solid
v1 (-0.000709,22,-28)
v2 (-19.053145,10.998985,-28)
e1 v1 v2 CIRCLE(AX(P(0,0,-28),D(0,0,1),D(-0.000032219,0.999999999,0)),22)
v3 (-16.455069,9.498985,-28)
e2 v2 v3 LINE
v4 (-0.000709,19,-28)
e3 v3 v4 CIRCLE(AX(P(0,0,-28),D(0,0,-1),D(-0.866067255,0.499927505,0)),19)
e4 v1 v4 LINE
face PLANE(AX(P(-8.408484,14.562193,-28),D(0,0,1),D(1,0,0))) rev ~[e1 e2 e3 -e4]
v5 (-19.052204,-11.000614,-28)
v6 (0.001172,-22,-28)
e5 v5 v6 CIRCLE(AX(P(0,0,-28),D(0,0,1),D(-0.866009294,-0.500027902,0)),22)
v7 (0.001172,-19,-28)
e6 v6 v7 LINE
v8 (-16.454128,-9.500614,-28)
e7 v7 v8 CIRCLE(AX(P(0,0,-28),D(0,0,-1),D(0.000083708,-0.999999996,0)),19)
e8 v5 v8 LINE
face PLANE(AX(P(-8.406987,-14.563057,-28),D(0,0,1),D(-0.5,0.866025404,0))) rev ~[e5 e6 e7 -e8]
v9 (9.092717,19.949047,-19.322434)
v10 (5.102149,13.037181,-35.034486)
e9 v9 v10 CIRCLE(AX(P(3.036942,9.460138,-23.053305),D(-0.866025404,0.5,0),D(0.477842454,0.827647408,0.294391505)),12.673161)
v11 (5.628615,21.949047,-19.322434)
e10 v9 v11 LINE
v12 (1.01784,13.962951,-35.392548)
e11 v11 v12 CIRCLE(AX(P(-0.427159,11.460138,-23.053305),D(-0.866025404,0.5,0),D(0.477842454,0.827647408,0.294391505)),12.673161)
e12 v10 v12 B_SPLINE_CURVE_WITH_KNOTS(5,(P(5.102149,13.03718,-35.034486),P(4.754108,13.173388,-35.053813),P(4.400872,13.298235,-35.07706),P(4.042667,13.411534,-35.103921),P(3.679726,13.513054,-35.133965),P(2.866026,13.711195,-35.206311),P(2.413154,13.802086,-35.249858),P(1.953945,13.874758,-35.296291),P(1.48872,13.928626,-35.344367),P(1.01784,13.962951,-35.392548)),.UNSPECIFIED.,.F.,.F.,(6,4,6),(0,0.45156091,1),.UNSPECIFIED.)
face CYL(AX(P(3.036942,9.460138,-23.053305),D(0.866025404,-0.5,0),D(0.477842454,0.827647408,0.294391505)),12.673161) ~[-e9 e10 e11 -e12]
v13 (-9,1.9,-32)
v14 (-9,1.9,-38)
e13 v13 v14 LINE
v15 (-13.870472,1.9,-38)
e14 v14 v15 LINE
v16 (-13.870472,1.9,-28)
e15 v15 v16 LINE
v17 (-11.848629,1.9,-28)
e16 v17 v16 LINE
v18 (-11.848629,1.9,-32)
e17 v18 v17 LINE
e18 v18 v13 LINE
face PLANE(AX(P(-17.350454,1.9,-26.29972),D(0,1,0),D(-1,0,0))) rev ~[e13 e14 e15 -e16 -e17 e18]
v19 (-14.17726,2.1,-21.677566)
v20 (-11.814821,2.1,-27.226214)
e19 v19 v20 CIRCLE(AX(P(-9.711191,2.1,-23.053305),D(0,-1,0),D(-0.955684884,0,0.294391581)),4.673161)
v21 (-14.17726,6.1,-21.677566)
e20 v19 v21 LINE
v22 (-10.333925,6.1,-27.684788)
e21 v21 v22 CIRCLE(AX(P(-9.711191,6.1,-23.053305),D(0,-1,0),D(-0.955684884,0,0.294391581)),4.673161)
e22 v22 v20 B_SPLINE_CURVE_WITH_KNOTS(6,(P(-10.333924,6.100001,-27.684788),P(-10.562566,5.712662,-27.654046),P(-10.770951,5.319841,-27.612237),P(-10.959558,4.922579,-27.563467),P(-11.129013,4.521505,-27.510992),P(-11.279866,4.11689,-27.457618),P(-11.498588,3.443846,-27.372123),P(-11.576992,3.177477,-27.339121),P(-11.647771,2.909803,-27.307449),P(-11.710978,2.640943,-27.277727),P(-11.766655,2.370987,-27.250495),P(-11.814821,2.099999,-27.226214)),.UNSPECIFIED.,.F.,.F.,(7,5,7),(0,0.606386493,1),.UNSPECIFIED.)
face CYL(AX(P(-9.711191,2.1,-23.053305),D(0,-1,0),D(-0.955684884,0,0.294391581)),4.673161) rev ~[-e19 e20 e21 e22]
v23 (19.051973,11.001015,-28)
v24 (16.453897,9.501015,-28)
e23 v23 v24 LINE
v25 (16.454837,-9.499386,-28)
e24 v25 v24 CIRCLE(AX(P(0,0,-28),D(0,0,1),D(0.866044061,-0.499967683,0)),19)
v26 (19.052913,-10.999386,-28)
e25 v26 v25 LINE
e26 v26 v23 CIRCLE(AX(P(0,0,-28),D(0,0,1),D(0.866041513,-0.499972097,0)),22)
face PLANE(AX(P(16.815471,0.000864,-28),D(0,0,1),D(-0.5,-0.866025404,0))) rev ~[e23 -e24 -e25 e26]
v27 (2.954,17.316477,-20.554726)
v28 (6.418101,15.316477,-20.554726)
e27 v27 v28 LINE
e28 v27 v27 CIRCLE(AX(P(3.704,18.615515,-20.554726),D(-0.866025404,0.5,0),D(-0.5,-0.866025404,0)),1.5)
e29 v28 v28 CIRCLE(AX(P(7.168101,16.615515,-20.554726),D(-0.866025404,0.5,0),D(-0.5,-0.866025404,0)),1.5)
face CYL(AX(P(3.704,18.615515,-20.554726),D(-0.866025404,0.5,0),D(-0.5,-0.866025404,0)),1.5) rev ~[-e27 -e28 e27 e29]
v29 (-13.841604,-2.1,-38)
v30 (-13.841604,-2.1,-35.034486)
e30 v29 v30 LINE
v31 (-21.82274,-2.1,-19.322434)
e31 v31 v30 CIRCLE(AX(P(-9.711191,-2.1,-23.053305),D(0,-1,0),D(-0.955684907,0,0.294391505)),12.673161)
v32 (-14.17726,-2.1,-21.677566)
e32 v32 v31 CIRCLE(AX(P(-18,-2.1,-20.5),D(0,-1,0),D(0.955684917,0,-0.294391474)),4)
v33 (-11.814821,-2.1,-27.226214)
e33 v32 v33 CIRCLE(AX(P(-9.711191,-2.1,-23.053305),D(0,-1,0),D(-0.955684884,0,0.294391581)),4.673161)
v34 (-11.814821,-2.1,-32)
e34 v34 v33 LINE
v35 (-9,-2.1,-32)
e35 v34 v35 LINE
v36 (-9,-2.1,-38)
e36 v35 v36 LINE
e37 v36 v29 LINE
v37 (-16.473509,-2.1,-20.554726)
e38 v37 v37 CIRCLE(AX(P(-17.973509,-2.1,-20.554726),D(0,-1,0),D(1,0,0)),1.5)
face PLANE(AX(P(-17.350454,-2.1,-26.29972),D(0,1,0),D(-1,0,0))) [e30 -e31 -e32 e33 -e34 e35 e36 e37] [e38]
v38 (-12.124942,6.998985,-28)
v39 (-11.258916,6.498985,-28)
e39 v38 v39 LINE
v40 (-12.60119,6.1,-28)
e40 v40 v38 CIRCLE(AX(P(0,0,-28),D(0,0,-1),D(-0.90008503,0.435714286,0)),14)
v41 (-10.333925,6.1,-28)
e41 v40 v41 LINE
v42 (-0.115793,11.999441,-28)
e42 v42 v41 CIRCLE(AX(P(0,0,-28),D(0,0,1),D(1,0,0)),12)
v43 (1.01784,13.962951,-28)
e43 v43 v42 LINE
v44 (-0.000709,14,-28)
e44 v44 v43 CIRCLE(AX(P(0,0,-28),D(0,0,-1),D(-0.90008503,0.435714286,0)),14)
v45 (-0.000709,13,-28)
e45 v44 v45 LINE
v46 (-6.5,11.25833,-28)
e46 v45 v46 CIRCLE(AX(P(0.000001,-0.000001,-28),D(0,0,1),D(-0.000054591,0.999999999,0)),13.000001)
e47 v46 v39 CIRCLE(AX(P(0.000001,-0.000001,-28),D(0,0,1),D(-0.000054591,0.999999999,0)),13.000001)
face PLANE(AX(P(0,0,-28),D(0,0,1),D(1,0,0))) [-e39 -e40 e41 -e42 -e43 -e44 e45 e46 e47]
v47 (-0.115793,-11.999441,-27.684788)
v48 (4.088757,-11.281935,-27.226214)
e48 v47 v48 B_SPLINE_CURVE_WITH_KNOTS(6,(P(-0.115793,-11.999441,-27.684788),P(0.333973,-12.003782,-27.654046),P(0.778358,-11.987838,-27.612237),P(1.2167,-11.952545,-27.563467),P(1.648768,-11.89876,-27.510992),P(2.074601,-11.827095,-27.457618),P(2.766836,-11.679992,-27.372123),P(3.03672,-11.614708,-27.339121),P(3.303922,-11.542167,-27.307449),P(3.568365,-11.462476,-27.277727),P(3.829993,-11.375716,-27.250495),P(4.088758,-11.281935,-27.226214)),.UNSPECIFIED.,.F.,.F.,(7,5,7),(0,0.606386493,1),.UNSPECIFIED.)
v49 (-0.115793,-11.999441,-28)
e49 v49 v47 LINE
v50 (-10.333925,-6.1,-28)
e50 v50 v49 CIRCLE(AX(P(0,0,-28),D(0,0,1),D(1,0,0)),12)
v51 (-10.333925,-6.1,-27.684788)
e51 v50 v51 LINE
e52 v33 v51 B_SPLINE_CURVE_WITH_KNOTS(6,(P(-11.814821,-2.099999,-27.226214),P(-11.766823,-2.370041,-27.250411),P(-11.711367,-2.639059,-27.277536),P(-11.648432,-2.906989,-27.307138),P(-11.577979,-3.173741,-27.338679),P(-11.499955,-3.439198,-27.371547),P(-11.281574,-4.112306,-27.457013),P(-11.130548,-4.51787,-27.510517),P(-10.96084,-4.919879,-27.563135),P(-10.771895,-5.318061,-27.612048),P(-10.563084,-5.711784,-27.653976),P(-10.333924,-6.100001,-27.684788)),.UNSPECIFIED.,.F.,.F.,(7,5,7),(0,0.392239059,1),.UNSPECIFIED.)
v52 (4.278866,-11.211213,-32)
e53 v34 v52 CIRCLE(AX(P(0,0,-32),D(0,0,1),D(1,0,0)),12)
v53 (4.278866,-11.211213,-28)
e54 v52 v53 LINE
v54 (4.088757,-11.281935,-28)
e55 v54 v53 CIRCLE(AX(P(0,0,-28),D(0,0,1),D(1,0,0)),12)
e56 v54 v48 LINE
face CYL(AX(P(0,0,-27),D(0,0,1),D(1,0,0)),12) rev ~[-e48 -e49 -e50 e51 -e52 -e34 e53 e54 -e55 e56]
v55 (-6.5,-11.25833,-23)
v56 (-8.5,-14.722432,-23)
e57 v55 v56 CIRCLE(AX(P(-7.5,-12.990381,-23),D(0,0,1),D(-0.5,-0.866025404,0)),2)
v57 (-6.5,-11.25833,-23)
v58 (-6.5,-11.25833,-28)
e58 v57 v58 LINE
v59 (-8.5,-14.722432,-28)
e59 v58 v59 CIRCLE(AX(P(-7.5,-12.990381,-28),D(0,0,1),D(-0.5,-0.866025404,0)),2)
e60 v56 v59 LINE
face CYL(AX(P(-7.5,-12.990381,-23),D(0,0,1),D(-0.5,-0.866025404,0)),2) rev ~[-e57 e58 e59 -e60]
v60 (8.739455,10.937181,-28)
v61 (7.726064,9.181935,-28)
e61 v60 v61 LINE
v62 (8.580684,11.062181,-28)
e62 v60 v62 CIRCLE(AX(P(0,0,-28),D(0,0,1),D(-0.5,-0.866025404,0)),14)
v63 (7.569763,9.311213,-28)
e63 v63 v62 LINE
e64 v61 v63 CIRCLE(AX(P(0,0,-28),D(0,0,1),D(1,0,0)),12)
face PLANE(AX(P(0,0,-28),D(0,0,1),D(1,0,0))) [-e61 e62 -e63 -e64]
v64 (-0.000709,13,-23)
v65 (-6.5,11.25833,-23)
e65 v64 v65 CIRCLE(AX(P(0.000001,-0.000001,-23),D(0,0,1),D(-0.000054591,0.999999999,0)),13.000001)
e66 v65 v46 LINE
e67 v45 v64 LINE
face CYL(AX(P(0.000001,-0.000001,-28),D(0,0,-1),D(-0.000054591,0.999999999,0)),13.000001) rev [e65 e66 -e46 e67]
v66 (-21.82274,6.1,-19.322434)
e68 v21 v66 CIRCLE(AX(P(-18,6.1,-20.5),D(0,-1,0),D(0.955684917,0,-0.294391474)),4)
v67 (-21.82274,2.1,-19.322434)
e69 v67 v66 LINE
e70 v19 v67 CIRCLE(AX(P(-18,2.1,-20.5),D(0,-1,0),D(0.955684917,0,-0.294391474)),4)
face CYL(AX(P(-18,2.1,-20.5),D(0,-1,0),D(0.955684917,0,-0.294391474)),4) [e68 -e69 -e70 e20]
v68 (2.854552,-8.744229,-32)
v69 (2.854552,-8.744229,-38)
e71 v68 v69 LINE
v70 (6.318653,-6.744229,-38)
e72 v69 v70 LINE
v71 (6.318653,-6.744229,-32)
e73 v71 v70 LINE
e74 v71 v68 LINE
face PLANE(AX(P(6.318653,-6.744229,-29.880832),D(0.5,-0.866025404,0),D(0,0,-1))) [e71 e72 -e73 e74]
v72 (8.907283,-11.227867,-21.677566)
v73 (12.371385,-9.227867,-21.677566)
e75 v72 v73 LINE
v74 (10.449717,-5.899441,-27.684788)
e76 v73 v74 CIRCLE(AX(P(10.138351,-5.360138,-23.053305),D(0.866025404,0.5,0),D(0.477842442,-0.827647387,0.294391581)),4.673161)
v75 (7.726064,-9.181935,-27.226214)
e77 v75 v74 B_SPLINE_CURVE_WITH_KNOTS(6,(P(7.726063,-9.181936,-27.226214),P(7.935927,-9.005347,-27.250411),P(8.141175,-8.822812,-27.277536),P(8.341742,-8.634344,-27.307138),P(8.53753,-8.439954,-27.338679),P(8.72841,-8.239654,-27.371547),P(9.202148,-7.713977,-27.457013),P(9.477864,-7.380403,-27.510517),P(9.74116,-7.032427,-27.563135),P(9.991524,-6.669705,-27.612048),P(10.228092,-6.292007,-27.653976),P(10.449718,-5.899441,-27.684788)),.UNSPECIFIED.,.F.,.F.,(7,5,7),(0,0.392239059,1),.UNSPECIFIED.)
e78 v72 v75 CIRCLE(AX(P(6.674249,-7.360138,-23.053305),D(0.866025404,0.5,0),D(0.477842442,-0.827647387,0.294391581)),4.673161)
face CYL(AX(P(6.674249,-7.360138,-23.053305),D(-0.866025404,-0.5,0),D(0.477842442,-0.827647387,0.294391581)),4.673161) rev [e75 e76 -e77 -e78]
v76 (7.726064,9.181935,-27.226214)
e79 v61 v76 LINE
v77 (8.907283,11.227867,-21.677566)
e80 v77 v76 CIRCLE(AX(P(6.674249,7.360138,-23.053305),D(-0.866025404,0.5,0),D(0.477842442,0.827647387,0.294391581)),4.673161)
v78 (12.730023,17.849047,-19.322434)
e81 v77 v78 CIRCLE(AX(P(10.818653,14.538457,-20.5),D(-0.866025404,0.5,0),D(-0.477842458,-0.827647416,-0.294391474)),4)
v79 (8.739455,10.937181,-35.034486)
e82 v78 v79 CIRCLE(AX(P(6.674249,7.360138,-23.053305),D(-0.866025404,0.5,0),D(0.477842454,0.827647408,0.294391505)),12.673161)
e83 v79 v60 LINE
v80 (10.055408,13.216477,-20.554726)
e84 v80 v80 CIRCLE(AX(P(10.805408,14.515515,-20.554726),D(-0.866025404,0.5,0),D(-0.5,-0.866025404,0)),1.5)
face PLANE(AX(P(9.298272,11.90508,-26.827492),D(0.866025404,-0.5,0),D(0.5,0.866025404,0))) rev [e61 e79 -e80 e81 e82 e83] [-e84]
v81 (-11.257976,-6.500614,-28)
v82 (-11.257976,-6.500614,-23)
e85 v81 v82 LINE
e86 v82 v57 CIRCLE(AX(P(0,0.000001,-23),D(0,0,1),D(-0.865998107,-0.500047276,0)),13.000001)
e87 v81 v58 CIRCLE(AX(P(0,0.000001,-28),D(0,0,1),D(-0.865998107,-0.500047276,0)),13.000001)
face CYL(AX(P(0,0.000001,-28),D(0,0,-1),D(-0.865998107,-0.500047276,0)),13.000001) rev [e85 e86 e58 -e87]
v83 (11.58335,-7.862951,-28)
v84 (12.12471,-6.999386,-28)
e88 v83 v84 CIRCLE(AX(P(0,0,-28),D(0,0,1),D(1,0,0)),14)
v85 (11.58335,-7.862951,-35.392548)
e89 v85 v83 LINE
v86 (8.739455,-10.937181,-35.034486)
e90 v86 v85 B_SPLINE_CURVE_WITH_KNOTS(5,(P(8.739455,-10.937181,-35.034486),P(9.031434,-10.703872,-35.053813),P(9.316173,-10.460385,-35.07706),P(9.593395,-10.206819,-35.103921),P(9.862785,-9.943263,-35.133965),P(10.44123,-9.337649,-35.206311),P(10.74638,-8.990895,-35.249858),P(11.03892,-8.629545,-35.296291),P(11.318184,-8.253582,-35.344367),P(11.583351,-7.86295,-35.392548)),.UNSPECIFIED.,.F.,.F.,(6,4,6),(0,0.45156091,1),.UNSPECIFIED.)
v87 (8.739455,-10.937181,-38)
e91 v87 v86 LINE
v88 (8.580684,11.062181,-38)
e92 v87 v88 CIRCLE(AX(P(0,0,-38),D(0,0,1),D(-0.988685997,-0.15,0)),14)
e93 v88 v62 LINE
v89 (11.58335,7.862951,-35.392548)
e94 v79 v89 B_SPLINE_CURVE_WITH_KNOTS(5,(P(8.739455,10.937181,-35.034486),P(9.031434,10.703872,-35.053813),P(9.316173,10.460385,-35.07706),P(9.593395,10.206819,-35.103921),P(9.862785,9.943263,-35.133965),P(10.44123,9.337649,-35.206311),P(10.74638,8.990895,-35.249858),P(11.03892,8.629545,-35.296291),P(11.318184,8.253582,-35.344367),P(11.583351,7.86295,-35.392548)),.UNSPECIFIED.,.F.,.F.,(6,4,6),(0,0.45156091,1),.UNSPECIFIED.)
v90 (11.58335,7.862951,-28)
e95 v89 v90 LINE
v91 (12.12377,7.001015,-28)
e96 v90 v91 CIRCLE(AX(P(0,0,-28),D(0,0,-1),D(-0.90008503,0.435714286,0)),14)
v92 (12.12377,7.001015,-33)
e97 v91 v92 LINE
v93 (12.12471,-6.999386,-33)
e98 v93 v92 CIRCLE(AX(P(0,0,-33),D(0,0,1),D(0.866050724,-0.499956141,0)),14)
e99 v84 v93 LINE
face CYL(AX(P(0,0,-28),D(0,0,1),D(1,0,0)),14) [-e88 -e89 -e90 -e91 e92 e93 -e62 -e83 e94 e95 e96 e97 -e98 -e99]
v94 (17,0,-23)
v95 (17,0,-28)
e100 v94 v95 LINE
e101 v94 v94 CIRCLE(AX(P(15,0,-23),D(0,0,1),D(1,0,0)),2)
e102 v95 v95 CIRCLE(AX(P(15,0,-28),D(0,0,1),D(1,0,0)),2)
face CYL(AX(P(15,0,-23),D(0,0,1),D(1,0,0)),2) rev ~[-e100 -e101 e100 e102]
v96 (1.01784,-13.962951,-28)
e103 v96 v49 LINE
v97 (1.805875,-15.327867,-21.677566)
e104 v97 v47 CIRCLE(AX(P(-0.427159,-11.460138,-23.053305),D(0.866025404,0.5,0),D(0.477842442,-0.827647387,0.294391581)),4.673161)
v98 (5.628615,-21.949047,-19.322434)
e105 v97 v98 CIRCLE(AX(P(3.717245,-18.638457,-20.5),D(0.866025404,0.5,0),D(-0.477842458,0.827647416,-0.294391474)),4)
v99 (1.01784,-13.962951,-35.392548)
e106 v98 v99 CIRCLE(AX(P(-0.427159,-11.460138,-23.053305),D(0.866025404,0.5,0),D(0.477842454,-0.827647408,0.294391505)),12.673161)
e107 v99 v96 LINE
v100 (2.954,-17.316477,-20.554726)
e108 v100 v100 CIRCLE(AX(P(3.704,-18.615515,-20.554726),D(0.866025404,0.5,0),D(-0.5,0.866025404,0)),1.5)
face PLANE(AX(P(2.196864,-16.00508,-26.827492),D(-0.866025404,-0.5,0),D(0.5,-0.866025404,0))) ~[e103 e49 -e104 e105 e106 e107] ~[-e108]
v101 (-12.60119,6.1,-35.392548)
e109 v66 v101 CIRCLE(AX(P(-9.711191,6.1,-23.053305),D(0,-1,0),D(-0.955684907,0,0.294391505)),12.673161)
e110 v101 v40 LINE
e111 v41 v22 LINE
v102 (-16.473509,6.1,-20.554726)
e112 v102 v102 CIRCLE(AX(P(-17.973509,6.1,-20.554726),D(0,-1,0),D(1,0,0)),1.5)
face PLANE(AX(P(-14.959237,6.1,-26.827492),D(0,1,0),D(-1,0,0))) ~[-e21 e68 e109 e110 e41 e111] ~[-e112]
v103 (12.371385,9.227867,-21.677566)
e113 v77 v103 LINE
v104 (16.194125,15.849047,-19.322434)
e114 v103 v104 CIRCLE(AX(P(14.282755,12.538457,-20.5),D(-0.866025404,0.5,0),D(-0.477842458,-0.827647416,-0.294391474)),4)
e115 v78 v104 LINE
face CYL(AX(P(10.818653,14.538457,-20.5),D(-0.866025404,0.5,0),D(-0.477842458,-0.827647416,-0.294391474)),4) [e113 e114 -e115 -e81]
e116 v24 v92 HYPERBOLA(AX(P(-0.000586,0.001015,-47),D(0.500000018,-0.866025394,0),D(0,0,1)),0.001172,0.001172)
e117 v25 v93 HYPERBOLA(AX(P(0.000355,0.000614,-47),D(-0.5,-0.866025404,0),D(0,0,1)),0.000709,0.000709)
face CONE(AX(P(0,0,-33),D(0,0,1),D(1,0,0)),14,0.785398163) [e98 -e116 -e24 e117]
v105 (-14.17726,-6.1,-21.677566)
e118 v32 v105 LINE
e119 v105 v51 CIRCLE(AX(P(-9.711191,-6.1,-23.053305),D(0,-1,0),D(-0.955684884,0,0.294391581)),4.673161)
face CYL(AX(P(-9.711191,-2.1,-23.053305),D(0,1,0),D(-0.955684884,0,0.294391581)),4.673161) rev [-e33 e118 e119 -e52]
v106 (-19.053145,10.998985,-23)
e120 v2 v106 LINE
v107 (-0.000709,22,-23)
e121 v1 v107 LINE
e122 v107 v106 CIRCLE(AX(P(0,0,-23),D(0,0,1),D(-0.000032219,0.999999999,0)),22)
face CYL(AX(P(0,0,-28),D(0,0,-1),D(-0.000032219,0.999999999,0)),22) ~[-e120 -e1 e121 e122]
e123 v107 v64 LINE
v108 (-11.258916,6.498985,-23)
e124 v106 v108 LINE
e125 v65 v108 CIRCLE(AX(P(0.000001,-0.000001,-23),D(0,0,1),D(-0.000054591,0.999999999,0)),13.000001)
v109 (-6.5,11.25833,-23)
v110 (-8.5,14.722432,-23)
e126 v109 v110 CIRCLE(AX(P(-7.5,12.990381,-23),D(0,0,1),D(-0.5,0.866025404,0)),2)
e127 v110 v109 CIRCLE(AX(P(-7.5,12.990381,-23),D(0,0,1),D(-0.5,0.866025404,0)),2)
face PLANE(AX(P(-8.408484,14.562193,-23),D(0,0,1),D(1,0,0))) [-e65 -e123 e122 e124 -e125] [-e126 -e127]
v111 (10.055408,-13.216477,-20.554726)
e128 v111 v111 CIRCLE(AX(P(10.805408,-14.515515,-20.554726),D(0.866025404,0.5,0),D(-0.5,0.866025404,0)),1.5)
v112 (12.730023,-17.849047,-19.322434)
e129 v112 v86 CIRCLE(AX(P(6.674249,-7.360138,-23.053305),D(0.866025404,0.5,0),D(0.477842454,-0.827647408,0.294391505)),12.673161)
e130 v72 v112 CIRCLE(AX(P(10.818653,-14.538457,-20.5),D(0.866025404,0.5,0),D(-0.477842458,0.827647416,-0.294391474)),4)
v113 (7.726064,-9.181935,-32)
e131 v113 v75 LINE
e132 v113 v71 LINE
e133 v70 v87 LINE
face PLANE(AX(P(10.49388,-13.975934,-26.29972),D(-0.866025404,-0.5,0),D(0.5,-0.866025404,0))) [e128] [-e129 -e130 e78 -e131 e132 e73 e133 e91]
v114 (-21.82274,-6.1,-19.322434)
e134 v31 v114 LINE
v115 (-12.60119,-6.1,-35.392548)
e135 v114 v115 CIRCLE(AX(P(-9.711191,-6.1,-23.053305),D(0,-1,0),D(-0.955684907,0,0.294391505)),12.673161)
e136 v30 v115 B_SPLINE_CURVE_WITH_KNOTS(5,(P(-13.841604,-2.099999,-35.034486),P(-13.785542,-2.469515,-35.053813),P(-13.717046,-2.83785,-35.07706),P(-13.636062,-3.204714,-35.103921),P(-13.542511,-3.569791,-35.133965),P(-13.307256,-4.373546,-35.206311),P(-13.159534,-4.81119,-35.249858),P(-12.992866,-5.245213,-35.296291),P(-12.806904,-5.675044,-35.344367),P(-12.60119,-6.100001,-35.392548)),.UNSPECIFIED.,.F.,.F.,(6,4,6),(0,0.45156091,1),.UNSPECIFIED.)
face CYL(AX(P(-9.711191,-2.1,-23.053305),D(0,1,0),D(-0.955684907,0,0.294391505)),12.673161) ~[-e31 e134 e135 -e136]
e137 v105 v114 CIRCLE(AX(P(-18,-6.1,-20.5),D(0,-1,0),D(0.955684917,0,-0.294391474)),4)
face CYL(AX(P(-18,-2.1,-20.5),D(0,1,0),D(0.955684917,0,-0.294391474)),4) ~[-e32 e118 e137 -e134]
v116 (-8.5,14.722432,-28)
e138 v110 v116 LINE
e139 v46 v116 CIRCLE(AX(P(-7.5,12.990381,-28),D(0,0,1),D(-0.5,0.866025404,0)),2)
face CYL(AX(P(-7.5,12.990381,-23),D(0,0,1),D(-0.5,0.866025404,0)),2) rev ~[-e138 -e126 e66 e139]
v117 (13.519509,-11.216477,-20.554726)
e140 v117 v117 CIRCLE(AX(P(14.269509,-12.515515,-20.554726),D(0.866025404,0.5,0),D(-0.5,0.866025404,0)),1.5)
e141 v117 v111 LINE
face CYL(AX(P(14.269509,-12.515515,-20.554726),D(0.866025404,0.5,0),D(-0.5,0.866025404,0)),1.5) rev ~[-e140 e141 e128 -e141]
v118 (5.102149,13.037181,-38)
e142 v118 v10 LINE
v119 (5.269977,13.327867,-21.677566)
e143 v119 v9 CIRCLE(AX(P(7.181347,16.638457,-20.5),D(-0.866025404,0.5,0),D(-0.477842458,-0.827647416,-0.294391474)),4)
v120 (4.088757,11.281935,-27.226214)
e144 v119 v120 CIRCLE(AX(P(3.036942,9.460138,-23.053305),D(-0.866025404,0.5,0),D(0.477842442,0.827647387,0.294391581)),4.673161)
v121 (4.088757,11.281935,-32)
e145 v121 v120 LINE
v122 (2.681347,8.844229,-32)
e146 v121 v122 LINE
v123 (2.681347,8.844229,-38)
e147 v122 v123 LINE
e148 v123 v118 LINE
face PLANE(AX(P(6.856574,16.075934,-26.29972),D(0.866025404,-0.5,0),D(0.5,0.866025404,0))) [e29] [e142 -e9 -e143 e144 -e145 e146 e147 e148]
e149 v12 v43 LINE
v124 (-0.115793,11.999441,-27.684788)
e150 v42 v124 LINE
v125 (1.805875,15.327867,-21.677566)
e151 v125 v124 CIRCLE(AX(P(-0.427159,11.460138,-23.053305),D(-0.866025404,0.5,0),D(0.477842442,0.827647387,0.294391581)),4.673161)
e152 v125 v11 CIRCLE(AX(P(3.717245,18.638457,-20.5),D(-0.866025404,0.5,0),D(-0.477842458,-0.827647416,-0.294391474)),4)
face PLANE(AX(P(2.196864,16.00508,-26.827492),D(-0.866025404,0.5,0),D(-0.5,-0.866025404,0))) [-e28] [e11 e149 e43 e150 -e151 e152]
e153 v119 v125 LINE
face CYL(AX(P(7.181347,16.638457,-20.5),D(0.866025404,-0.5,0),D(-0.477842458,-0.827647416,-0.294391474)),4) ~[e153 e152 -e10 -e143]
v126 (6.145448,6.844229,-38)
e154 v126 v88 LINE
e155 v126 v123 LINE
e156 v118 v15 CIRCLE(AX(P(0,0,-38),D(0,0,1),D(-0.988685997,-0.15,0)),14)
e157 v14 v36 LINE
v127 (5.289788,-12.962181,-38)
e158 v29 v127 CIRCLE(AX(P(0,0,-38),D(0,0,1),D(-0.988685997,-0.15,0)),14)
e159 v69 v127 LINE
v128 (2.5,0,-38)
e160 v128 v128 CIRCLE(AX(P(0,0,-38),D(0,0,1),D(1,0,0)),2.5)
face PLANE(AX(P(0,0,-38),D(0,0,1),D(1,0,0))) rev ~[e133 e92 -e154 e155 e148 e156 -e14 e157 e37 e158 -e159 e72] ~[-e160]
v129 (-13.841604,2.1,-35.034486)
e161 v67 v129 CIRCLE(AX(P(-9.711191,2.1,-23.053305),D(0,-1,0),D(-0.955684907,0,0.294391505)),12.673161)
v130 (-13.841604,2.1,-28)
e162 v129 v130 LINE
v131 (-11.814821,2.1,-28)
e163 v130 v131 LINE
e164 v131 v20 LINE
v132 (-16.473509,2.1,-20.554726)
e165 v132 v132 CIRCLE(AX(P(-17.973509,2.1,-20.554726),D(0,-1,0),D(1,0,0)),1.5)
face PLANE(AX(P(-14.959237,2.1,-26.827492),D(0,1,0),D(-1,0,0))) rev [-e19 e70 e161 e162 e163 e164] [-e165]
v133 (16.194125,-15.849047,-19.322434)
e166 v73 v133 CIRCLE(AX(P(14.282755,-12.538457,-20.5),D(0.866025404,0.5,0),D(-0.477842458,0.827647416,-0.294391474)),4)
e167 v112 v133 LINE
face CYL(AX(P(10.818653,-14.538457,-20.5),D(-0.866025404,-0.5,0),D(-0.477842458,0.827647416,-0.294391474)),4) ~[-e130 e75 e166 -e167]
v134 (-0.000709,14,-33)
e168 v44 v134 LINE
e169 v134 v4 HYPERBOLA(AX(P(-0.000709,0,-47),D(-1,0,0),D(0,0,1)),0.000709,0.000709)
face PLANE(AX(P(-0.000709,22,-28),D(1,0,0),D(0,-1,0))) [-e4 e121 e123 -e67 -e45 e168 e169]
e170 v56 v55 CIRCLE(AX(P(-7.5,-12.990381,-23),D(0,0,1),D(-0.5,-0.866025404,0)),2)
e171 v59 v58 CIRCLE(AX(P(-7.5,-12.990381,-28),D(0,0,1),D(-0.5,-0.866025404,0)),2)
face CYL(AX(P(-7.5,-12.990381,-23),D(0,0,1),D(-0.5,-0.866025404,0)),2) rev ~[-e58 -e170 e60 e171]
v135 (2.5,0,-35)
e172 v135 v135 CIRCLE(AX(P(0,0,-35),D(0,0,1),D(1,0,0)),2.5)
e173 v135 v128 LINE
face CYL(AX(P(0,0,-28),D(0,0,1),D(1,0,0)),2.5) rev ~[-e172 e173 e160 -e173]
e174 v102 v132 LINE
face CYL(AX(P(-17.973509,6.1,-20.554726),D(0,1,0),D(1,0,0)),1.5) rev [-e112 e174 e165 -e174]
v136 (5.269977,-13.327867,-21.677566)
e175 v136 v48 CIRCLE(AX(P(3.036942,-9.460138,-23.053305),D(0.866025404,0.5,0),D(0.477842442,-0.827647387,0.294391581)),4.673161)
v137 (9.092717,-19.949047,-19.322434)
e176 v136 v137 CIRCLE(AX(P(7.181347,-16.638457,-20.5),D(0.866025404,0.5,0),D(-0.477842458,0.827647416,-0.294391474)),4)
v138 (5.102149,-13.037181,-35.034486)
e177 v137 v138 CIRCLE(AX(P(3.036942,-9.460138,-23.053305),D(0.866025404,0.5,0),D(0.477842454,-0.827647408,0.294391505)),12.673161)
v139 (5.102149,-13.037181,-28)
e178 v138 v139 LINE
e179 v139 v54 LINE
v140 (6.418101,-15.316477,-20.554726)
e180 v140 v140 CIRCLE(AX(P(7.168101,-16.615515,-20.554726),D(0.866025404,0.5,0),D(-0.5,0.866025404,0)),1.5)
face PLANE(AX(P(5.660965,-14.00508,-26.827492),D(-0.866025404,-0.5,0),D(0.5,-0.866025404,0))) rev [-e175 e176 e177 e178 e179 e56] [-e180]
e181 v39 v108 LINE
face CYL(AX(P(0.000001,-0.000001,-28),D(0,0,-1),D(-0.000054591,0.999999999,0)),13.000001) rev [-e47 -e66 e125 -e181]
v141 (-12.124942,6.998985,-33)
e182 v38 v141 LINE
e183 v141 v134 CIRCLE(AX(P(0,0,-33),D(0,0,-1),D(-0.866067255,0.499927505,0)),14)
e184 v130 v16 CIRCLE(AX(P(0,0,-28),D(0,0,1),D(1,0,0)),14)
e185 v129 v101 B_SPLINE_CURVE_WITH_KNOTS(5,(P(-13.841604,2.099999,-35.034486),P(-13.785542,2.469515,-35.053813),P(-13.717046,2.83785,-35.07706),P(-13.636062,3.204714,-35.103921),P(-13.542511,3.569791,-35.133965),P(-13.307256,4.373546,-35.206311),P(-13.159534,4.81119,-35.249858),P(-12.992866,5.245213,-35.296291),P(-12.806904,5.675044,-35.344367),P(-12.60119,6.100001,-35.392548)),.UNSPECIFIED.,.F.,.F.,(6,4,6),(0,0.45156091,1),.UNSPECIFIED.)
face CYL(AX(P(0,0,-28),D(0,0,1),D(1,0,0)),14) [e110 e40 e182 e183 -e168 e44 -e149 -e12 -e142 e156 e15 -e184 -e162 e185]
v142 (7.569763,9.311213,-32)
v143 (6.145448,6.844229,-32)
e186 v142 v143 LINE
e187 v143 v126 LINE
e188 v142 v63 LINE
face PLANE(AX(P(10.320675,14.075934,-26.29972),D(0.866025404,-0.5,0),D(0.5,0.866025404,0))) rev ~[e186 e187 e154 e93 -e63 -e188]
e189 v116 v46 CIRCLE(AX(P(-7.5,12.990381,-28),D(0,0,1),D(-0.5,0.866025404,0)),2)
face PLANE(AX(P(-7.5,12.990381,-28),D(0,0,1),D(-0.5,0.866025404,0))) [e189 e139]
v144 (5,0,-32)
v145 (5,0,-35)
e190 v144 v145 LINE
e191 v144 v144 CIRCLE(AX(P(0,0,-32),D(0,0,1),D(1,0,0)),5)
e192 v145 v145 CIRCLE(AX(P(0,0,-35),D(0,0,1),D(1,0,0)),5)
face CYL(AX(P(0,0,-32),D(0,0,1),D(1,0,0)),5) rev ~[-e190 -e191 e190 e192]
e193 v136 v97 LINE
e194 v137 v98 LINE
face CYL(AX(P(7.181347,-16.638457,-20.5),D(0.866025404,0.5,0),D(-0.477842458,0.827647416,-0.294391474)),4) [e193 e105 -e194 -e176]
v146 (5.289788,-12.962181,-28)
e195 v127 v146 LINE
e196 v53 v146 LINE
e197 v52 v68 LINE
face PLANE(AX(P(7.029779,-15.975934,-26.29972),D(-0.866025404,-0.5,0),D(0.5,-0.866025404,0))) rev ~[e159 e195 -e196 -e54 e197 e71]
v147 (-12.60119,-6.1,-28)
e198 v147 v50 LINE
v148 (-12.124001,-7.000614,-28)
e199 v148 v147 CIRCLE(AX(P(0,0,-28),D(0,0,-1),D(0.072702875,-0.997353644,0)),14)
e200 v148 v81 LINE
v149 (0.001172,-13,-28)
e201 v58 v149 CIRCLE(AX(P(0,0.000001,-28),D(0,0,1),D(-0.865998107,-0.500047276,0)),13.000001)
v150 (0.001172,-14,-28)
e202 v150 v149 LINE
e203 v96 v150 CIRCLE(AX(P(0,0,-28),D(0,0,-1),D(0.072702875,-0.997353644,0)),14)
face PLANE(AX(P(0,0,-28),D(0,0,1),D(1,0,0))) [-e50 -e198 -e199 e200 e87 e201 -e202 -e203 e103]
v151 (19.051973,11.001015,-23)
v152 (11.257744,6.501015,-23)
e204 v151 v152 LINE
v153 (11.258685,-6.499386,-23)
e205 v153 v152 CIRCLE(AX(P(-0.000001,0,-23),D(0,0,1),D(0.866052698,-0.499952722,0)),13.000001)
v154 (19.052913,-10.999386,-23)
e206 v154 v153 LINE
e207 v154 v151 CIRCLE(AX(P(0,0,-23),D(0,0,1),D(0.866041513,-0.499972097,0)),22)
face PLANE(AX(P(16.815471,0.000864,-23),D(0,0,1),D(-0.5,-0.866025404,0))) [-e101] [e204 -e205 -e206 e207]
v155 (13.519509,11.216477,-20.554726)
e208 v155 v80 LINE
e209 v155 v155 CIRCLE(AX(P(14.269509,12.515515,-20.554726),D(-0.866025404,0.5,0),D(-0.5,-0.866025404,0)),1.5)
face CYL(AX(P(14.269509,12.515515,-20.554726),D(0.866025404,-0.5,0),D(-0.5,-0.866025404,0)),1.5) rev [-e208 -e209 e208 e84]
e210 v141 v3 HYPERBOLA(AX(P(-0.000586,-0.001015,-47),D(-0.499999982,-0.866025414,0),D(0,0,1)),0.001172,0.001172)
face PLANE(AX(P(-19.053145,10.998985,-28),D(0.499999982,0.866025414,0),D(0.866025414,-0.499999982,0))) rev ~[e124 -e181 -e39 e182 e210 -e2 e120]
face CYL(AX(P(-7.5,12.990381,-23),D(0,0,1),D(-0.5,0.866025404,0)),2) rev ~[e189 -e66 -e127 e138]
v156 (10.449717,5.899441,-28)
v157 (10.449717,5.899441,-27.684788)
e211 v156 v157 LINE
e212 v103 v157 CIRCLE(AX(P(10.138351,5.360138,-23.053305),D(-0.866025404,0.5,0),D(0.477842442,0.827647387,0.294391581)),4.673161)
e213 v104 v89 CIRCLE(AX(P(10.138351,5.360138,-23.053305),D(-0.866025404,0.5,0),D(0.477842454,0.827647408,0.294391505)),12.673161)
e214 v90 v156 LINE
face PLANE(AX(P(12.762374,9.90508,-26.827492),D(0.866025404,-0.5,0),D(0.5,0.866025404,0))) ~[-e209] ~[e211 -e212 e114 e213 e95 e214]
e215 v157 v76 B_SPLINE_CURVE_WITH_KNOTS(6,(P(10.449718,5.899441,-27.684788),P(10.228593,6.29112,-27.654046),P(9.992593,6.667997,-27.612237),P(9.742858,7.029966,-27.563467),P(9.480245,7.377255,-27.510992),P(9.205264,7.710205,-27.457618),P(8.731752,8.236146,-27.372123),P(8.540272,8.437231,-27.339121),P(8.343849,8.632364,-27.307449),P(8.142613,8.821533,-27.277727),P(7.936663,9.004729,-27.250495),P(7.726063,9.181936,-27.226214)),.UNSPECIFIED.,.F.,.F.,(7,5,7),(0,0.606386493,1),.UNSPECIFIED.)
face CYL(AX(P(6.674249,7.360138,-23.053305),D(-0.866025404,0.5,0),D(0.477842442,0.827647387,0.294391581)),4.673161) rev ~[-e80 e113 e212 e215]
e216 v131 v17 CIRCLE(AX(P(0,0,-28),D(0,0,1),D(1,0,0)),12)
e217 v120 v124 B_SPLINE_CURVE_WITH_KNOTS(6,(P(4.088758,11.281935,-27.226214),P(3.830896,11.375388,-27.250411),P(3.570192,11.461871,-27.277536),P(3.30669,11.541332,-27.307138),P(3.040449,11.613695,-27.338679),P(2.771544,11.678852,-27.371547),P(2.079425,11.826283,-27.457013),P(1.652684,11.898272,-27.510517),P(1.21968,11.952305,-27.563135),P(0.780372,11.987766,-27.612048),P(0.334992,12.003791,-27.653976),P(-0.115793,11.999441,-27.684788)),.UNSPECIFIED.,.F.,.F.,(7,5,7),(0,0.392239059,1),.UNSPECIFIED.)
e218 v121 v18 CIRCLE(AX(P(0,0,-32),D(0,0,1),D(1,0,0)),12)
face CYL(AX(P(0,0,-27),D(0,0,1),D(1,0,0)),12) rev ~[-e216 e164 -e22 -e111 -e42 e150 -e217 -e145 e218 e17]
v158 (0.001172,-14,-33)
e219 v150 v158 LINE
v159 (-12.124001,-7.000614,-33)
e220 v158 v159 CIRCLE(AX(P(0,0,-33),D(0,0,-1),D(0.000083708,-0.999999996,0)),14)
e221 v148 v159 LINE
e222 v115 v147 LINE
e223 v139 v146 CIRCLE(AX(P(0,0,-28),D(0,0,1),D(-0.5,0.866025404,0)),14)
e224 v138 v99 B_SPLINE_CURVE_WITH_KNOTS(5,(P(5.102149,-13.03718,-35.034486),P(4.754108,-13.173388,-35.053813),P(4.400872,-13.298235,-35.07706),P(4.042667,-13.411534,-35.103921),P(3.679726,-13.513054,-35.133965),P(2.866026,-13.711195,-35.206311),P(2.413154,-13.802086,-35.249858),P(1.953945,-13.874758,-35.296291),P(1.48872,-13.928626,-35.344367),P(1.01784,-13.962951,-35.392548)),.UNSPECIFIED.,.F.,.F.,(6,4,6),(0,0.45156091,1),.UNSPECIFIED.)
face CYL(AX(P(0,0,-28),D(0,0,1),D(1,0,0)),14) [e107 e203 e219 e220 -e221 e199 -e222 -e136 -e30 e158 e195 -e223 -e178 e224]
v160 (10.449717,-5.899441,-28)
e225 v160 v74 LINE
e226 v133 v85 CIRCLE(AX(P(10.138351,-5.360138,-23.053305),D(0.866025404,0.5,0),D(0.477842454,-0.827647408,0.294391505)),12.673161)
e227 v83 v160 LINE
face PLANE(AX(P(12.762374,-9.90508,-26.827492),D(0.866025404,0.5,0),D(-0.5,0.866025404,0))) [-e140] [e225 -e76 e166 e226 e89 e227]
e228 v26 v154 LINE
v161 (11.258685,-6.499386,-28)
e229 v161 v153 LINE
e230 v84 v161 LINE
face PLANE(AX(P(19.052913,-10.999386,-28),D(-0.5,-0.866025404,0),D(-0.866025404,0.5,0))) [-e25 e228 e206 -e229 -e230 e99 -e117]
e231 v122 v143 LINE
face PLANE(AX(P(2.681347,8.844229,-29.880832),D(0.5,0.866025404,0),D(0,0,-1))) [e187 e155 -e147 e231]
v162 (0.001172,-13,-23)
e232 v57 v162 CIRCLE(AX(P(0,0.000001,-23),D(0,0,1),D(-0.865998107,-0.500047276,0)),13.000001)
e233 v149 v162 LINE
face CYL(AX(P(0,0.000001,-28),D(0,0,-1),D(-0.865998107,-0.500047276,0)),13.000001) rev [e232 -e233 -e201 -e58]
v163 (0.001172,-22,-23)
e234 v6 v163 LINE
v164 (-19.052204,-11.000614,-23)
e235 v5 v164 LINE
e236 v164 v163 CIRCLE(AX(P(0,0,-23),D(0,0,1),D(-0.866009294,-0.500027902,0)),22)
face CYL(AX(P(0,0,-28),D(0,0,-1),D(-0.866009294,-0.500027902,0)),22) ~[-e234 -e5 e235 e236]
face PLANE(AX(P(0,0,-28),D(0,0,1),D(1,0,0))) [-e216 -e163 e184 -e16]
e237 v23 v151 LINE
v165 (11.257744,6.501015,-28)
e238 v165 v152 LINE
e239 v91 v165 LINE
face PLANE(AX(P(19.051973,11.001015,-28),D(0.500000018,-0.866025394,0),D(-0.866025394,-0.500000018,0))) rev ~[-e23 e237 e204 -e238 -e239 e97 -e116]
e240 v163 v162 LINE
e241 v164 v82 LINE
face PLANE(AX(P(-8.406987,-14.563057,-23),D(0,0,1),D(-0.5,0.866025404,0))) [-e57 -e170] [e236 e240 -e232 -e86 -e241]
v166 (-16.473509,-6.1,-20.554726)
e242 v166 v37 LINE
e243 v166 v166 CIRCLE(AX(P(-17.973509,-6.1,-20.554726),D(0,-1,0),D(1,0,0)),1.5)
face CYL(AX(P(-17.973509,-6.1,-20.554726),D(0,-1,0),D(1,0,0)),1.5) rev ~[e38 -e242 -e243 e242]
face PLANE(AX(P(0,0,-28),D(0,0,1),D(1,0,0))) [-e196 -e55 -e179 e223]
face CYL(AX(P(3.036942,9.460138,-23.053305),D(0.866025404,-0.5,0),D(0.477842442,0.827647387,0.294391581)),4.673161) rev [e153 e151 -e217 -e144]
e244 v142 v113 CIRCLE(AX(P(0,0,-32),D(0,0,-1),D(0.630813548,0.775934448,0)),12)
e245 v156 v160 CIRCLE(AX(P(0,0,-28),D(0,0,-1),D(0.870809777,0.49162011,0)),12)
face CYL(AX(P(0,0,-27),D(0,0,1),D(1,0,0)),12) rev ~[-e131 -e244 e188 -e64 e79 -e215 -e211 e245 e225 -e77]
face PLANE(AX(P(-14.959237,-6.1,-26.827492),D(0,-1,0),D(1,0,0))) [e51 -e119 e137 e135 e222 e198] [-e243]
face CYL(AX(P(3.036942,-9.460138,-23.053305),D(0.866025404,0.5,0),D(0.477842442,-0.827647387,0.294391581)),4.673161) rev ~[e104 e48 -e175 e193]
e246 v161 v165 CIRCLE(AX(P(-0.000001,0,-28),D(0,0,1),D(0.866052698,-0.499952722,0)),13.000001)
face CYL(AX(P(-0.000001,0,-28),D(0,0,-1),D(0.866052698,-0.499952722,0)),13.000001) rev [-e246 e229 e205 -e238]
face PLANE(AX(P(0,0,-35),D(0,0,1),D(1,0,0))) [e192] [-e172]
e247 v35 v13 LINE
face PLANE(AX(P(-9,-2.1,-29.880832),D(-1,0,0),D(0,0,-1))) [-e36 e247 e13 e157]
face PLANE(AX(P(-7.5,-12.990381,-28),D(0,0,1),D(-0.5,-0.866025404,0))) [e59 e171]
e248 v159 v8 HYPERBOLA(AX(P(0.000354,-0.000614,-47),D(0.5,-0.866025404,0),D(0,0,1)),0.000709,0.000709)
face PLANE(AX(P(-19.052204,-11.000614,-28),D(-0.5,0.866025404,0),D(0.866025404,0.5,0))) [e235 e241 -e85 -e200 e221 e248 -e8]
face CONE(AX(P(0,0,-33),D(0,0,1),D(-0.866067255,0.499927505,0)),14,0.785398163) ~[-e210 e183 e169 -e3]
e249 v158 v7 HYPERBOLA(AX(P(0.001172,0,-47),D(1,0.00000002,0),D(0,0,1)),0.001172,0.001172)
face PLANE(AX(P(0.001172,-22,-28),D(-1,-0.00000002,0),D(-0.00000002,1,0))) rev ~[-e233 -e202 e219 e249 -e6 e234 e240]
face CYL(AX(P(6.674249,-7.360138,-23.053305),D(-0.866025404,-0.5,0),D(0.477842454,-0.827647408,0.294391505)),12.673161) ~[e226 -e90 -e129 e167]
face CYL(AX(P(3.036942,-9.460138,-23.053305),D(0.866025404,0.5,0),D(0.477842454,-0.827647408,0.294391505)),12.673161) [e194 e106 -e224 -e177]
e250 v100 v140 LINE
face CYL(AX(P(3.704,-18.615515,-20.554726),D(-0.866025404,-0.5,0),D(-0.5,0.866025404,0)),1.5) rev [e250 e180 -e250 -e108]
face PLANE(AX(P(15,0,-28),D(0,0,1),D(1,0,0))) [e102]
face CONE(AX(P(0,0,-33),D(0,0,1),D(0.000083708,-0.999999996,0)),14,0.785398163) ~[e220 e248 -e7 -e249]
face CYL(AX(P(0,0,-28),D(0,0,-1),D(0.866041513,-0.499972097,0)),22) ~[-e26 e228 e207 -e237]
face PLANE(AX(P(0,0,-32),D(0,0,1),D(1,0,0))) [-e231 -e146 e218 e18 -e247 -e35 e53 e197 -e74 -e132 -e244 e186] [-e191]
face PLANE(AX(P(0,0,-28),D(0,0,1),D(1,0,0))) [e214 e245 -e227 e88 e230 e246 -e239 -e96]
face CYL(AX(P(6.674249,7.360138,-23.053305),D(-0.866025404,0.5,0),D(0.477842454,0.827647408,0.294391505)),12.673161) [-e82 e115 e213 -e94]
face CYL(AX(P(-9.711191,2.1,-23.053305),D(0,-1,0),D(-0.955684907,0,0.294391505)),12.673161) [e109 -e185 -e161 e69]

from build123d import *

# Parameters (mm, degrees)
SKETCH024_R           = 14
SKETCH024_R_2         = 2.5
PAD006_DEPTH          = 10
PAD007_DEPTH          = 4
SKETCH026_R           = 1.5
POCKET011_DEPTH       = 5
POLARPATTERN001_COUNT = 3
PAD008_DEPTH          = 5
POLARPATTERN002_COUNT = 3
SKETCH031_W           = 6
SKETCH031_H           = 7
POCKET013_DEPTH       = 155.736206
POLARPATTERN005_COUNT = 3
CHAMFER_SIZE          = 5
SKETCH048_R           = 2
POCKET020_DEPTH       = 5
POLARPATTERN009_COUNT = 3
POCKET027_DEPTH       = 4
POLARPATTERN010_COUNT = 3
SKETCH060_R           = 12
POCKET028_DEPTH       = 5
SKETCH116_R           = 5
POCKET076_DEPTH       = 3


with BuildPart() as part:
    # Sketch024 → Pad006 (new body)
    with BuildSketch(Plane.XY):
        Circle(SKETCH024_R)
        Circle(SKETCH024_R_2, mode=Mode.SUBTRACT)
    extrude(amount=-PAD006_DEPTH)

    # Sketch025 → Pad007 (join)
    with BuildSketch(Plane.XZ.offset(2.1)):
        with BuildLine():
            ThreePointArc((-21.82274, 8.677566), (-19.999991, -2.452603), (-10.028464, -7.722494))
            ThreePointArc((-10.028464, -7.722494), (-5.929578, -3.823887), (-9.828184, 0.274999))
            ThreePointArc((-14.17726, 6.322434), (-13.505131, 2.218243), (-9.828184, 0.274999))
            ThreePointArc((-14.17726, 6.322434), (-16.822434, 11.32274), (-21.82274, 8.677566))
        make_face()
    extrude(amount=PAD007_DEPTH)

    # Sketch026 (on Face5 of Pad007) → Pocket011 (cut)
    with BuildSketch(Plane.XZ.offset(6.1)):
        with Locations((-17.973509, 7.445274)):
            Circle(SKETCH026_R)
    extrude(amount=-POCKET011_DEPTH, mode=Mode.SUBTRACT)

    # Mirrored003: part across XZ


with BuildPart() as part_1:
    add(part.part)
    add(part.part.mirror(Plane.XZ))

    # PolarPattern001: part ×3 about axis
    polarpattern001_axis = Axis((0, 0, 0), (0, 0, 1))


with BuildPart() as part_2:
    add(part_1.part)
    for i in range(1, POLARPATTERN001_COUNT):
        add(part_1.part.rotate(polarpattern001_axis, i * 360 / POLARPATTERN001_COUNT))

    # Sketch027 (on Face1 of PolarPattern001) → Pad008 (join)
    with BuildSketch(Plane.XY):
        with BuildLine():
            ThreePointArc((-0.000709, 22), (-11.000814, 19.052089), (-19.053145, 10.998985))
            Line((-19.053145, 10.998985), (-11.258916, 6.498985))
            ThreePointArc((-0.000709, 13), (-6.500814, 11.25786), (-11.258916, 6.498985))
            Line((-0.000709, 22), (-0.000709, 13))
        make_face()
    pad008 = extrude(amount=PAD008_DEPTH)

    # PolarPattern002: Pad008 ×3 about axis
    polarpattern002_axis = Axis((0, 0, 0), (0, 0, 1))
    for i in range(1, POLARPATTERN002_COUNT):
        add(pad008.rotate(polarpattern002_axis, i * 360 / POLARPATTERN002_COUNT))

    # Sketch031 → Pocket013 (cut, through all)
    with BuildSketch(Plane.YZ):
        with Locations((0, 18.5)):
            Rectangle(SKETCH031_W, SKETCH031_H)
    pocket013 = extrude(amount=-POCKET013_DEPTH, mode=Mode.SUBTRACT)

    # PolarPattern005: Pocket013 ×3 about axis
    polarpattern005_axis = Axis((0, 0, 0), (0, 0, 1))
    for i in range(1, POLARPATTERN005_COUNT):
        add(pocket013.rotate(polarpattern005_axis, i * 360 / POLARPATTERN005_COUNT), mode=Mode.SUBTRACT)

    # Chamfer
    chamfer_edges = [part_2.edges().sort_by_distance(p)[0] for p in [
        (-3.623809, 13.52287, 0),
        (-9.899909, 9.899081, 0),
        (-9.899244, -9.899746, 0),
        (-3.622901, -13.523113, 0),
        (13.52281, 3.624033, 0),
        (13.523053, -3.623124, 0),
    ]]
    chamfer(chamfer_edges, length=CHAMFER_SIZE)

    # Sketch048 (on Face37 of Chamfer) → Pocket020 (cut)
    with BuildSketch(Plane.XY.offset(5)):
        with Locations((15, 0)):
            Circle(SKETCH048_R)
    pocket020 = extrude(amount=-POCKET020_DEPTH, mode=Mode.SUBTRACT)

    # PolarPattern009: Pocket020 ×3 about axis
    polarpattern009_axis = Axis((0, 0, 5), (0, 0, 1))
    for i in range(1, POLARPATTERN009_COUNT):
        add(pocket020.rotate(polarpattern009_axis, i * 360 / POLARPATTERN009_COUNT), mode=Mode.SUBTRACT)

    # Sketch059 (on Face39 of PolarPattern009) → Pocket027 (cut)
    with BuildSketch(Plane(origin=(0, -2.1, 0), x_dir=(-1, 0, 0), z_dir=(0, 1, 0))):
        with BuildLine():
            ThreePointArc((23.463233, -4.296317), (20.141453, 20.322409), (9, -1.880832))
            Line((9, -1.880832), (9, -14.311207))
            Line((9, -14.311207), (23.463233, -14.311207))
            Line((23.463233, -14.311207), (23.463233, -4.296317))
        make_face()
    pocket027 = extrude(amount=POCKET027_DEPTH, mode=Mode.SUBTRACT)

    # PolarPattern010: Pocket027 ×3 about axis
    polarpattern010_axis = Axis((0, 0, 0), (0, 0, 1))
    for i in range(1, POLARPATTERN010_COUNT):
        add(pocket027.rotate(polarpattern010_axis, i * 360 / POLARPATTERN010_COUNT), mode=Mode.SUBTRACT)

    # Sketch060 (on Face7 of PolarPattern010) → Pocket028 (cut)
    with BuildSketch(Plane.XY.offset(1)):
        Circle(SKETCH060_R)
    extrude(amount=-POCKET028_DEPTH, mode=Mode.SUBTRACT)

    # Sketch116 (on Face24 of Pocket028) → Pocket076 (cut)
    with BuildSketch(Plane.XY.offset(-4)):
        Circle(SKETCH116_R)
    extrude(amount=-POCKET076_DEPTH, mode=Mode.SUBTRACT)


with BuildPart() as part_3:
    # Body004 placement: moved
    add(part_2.part.moved(Location((0, 0, -28))))


solid = part_3.part
